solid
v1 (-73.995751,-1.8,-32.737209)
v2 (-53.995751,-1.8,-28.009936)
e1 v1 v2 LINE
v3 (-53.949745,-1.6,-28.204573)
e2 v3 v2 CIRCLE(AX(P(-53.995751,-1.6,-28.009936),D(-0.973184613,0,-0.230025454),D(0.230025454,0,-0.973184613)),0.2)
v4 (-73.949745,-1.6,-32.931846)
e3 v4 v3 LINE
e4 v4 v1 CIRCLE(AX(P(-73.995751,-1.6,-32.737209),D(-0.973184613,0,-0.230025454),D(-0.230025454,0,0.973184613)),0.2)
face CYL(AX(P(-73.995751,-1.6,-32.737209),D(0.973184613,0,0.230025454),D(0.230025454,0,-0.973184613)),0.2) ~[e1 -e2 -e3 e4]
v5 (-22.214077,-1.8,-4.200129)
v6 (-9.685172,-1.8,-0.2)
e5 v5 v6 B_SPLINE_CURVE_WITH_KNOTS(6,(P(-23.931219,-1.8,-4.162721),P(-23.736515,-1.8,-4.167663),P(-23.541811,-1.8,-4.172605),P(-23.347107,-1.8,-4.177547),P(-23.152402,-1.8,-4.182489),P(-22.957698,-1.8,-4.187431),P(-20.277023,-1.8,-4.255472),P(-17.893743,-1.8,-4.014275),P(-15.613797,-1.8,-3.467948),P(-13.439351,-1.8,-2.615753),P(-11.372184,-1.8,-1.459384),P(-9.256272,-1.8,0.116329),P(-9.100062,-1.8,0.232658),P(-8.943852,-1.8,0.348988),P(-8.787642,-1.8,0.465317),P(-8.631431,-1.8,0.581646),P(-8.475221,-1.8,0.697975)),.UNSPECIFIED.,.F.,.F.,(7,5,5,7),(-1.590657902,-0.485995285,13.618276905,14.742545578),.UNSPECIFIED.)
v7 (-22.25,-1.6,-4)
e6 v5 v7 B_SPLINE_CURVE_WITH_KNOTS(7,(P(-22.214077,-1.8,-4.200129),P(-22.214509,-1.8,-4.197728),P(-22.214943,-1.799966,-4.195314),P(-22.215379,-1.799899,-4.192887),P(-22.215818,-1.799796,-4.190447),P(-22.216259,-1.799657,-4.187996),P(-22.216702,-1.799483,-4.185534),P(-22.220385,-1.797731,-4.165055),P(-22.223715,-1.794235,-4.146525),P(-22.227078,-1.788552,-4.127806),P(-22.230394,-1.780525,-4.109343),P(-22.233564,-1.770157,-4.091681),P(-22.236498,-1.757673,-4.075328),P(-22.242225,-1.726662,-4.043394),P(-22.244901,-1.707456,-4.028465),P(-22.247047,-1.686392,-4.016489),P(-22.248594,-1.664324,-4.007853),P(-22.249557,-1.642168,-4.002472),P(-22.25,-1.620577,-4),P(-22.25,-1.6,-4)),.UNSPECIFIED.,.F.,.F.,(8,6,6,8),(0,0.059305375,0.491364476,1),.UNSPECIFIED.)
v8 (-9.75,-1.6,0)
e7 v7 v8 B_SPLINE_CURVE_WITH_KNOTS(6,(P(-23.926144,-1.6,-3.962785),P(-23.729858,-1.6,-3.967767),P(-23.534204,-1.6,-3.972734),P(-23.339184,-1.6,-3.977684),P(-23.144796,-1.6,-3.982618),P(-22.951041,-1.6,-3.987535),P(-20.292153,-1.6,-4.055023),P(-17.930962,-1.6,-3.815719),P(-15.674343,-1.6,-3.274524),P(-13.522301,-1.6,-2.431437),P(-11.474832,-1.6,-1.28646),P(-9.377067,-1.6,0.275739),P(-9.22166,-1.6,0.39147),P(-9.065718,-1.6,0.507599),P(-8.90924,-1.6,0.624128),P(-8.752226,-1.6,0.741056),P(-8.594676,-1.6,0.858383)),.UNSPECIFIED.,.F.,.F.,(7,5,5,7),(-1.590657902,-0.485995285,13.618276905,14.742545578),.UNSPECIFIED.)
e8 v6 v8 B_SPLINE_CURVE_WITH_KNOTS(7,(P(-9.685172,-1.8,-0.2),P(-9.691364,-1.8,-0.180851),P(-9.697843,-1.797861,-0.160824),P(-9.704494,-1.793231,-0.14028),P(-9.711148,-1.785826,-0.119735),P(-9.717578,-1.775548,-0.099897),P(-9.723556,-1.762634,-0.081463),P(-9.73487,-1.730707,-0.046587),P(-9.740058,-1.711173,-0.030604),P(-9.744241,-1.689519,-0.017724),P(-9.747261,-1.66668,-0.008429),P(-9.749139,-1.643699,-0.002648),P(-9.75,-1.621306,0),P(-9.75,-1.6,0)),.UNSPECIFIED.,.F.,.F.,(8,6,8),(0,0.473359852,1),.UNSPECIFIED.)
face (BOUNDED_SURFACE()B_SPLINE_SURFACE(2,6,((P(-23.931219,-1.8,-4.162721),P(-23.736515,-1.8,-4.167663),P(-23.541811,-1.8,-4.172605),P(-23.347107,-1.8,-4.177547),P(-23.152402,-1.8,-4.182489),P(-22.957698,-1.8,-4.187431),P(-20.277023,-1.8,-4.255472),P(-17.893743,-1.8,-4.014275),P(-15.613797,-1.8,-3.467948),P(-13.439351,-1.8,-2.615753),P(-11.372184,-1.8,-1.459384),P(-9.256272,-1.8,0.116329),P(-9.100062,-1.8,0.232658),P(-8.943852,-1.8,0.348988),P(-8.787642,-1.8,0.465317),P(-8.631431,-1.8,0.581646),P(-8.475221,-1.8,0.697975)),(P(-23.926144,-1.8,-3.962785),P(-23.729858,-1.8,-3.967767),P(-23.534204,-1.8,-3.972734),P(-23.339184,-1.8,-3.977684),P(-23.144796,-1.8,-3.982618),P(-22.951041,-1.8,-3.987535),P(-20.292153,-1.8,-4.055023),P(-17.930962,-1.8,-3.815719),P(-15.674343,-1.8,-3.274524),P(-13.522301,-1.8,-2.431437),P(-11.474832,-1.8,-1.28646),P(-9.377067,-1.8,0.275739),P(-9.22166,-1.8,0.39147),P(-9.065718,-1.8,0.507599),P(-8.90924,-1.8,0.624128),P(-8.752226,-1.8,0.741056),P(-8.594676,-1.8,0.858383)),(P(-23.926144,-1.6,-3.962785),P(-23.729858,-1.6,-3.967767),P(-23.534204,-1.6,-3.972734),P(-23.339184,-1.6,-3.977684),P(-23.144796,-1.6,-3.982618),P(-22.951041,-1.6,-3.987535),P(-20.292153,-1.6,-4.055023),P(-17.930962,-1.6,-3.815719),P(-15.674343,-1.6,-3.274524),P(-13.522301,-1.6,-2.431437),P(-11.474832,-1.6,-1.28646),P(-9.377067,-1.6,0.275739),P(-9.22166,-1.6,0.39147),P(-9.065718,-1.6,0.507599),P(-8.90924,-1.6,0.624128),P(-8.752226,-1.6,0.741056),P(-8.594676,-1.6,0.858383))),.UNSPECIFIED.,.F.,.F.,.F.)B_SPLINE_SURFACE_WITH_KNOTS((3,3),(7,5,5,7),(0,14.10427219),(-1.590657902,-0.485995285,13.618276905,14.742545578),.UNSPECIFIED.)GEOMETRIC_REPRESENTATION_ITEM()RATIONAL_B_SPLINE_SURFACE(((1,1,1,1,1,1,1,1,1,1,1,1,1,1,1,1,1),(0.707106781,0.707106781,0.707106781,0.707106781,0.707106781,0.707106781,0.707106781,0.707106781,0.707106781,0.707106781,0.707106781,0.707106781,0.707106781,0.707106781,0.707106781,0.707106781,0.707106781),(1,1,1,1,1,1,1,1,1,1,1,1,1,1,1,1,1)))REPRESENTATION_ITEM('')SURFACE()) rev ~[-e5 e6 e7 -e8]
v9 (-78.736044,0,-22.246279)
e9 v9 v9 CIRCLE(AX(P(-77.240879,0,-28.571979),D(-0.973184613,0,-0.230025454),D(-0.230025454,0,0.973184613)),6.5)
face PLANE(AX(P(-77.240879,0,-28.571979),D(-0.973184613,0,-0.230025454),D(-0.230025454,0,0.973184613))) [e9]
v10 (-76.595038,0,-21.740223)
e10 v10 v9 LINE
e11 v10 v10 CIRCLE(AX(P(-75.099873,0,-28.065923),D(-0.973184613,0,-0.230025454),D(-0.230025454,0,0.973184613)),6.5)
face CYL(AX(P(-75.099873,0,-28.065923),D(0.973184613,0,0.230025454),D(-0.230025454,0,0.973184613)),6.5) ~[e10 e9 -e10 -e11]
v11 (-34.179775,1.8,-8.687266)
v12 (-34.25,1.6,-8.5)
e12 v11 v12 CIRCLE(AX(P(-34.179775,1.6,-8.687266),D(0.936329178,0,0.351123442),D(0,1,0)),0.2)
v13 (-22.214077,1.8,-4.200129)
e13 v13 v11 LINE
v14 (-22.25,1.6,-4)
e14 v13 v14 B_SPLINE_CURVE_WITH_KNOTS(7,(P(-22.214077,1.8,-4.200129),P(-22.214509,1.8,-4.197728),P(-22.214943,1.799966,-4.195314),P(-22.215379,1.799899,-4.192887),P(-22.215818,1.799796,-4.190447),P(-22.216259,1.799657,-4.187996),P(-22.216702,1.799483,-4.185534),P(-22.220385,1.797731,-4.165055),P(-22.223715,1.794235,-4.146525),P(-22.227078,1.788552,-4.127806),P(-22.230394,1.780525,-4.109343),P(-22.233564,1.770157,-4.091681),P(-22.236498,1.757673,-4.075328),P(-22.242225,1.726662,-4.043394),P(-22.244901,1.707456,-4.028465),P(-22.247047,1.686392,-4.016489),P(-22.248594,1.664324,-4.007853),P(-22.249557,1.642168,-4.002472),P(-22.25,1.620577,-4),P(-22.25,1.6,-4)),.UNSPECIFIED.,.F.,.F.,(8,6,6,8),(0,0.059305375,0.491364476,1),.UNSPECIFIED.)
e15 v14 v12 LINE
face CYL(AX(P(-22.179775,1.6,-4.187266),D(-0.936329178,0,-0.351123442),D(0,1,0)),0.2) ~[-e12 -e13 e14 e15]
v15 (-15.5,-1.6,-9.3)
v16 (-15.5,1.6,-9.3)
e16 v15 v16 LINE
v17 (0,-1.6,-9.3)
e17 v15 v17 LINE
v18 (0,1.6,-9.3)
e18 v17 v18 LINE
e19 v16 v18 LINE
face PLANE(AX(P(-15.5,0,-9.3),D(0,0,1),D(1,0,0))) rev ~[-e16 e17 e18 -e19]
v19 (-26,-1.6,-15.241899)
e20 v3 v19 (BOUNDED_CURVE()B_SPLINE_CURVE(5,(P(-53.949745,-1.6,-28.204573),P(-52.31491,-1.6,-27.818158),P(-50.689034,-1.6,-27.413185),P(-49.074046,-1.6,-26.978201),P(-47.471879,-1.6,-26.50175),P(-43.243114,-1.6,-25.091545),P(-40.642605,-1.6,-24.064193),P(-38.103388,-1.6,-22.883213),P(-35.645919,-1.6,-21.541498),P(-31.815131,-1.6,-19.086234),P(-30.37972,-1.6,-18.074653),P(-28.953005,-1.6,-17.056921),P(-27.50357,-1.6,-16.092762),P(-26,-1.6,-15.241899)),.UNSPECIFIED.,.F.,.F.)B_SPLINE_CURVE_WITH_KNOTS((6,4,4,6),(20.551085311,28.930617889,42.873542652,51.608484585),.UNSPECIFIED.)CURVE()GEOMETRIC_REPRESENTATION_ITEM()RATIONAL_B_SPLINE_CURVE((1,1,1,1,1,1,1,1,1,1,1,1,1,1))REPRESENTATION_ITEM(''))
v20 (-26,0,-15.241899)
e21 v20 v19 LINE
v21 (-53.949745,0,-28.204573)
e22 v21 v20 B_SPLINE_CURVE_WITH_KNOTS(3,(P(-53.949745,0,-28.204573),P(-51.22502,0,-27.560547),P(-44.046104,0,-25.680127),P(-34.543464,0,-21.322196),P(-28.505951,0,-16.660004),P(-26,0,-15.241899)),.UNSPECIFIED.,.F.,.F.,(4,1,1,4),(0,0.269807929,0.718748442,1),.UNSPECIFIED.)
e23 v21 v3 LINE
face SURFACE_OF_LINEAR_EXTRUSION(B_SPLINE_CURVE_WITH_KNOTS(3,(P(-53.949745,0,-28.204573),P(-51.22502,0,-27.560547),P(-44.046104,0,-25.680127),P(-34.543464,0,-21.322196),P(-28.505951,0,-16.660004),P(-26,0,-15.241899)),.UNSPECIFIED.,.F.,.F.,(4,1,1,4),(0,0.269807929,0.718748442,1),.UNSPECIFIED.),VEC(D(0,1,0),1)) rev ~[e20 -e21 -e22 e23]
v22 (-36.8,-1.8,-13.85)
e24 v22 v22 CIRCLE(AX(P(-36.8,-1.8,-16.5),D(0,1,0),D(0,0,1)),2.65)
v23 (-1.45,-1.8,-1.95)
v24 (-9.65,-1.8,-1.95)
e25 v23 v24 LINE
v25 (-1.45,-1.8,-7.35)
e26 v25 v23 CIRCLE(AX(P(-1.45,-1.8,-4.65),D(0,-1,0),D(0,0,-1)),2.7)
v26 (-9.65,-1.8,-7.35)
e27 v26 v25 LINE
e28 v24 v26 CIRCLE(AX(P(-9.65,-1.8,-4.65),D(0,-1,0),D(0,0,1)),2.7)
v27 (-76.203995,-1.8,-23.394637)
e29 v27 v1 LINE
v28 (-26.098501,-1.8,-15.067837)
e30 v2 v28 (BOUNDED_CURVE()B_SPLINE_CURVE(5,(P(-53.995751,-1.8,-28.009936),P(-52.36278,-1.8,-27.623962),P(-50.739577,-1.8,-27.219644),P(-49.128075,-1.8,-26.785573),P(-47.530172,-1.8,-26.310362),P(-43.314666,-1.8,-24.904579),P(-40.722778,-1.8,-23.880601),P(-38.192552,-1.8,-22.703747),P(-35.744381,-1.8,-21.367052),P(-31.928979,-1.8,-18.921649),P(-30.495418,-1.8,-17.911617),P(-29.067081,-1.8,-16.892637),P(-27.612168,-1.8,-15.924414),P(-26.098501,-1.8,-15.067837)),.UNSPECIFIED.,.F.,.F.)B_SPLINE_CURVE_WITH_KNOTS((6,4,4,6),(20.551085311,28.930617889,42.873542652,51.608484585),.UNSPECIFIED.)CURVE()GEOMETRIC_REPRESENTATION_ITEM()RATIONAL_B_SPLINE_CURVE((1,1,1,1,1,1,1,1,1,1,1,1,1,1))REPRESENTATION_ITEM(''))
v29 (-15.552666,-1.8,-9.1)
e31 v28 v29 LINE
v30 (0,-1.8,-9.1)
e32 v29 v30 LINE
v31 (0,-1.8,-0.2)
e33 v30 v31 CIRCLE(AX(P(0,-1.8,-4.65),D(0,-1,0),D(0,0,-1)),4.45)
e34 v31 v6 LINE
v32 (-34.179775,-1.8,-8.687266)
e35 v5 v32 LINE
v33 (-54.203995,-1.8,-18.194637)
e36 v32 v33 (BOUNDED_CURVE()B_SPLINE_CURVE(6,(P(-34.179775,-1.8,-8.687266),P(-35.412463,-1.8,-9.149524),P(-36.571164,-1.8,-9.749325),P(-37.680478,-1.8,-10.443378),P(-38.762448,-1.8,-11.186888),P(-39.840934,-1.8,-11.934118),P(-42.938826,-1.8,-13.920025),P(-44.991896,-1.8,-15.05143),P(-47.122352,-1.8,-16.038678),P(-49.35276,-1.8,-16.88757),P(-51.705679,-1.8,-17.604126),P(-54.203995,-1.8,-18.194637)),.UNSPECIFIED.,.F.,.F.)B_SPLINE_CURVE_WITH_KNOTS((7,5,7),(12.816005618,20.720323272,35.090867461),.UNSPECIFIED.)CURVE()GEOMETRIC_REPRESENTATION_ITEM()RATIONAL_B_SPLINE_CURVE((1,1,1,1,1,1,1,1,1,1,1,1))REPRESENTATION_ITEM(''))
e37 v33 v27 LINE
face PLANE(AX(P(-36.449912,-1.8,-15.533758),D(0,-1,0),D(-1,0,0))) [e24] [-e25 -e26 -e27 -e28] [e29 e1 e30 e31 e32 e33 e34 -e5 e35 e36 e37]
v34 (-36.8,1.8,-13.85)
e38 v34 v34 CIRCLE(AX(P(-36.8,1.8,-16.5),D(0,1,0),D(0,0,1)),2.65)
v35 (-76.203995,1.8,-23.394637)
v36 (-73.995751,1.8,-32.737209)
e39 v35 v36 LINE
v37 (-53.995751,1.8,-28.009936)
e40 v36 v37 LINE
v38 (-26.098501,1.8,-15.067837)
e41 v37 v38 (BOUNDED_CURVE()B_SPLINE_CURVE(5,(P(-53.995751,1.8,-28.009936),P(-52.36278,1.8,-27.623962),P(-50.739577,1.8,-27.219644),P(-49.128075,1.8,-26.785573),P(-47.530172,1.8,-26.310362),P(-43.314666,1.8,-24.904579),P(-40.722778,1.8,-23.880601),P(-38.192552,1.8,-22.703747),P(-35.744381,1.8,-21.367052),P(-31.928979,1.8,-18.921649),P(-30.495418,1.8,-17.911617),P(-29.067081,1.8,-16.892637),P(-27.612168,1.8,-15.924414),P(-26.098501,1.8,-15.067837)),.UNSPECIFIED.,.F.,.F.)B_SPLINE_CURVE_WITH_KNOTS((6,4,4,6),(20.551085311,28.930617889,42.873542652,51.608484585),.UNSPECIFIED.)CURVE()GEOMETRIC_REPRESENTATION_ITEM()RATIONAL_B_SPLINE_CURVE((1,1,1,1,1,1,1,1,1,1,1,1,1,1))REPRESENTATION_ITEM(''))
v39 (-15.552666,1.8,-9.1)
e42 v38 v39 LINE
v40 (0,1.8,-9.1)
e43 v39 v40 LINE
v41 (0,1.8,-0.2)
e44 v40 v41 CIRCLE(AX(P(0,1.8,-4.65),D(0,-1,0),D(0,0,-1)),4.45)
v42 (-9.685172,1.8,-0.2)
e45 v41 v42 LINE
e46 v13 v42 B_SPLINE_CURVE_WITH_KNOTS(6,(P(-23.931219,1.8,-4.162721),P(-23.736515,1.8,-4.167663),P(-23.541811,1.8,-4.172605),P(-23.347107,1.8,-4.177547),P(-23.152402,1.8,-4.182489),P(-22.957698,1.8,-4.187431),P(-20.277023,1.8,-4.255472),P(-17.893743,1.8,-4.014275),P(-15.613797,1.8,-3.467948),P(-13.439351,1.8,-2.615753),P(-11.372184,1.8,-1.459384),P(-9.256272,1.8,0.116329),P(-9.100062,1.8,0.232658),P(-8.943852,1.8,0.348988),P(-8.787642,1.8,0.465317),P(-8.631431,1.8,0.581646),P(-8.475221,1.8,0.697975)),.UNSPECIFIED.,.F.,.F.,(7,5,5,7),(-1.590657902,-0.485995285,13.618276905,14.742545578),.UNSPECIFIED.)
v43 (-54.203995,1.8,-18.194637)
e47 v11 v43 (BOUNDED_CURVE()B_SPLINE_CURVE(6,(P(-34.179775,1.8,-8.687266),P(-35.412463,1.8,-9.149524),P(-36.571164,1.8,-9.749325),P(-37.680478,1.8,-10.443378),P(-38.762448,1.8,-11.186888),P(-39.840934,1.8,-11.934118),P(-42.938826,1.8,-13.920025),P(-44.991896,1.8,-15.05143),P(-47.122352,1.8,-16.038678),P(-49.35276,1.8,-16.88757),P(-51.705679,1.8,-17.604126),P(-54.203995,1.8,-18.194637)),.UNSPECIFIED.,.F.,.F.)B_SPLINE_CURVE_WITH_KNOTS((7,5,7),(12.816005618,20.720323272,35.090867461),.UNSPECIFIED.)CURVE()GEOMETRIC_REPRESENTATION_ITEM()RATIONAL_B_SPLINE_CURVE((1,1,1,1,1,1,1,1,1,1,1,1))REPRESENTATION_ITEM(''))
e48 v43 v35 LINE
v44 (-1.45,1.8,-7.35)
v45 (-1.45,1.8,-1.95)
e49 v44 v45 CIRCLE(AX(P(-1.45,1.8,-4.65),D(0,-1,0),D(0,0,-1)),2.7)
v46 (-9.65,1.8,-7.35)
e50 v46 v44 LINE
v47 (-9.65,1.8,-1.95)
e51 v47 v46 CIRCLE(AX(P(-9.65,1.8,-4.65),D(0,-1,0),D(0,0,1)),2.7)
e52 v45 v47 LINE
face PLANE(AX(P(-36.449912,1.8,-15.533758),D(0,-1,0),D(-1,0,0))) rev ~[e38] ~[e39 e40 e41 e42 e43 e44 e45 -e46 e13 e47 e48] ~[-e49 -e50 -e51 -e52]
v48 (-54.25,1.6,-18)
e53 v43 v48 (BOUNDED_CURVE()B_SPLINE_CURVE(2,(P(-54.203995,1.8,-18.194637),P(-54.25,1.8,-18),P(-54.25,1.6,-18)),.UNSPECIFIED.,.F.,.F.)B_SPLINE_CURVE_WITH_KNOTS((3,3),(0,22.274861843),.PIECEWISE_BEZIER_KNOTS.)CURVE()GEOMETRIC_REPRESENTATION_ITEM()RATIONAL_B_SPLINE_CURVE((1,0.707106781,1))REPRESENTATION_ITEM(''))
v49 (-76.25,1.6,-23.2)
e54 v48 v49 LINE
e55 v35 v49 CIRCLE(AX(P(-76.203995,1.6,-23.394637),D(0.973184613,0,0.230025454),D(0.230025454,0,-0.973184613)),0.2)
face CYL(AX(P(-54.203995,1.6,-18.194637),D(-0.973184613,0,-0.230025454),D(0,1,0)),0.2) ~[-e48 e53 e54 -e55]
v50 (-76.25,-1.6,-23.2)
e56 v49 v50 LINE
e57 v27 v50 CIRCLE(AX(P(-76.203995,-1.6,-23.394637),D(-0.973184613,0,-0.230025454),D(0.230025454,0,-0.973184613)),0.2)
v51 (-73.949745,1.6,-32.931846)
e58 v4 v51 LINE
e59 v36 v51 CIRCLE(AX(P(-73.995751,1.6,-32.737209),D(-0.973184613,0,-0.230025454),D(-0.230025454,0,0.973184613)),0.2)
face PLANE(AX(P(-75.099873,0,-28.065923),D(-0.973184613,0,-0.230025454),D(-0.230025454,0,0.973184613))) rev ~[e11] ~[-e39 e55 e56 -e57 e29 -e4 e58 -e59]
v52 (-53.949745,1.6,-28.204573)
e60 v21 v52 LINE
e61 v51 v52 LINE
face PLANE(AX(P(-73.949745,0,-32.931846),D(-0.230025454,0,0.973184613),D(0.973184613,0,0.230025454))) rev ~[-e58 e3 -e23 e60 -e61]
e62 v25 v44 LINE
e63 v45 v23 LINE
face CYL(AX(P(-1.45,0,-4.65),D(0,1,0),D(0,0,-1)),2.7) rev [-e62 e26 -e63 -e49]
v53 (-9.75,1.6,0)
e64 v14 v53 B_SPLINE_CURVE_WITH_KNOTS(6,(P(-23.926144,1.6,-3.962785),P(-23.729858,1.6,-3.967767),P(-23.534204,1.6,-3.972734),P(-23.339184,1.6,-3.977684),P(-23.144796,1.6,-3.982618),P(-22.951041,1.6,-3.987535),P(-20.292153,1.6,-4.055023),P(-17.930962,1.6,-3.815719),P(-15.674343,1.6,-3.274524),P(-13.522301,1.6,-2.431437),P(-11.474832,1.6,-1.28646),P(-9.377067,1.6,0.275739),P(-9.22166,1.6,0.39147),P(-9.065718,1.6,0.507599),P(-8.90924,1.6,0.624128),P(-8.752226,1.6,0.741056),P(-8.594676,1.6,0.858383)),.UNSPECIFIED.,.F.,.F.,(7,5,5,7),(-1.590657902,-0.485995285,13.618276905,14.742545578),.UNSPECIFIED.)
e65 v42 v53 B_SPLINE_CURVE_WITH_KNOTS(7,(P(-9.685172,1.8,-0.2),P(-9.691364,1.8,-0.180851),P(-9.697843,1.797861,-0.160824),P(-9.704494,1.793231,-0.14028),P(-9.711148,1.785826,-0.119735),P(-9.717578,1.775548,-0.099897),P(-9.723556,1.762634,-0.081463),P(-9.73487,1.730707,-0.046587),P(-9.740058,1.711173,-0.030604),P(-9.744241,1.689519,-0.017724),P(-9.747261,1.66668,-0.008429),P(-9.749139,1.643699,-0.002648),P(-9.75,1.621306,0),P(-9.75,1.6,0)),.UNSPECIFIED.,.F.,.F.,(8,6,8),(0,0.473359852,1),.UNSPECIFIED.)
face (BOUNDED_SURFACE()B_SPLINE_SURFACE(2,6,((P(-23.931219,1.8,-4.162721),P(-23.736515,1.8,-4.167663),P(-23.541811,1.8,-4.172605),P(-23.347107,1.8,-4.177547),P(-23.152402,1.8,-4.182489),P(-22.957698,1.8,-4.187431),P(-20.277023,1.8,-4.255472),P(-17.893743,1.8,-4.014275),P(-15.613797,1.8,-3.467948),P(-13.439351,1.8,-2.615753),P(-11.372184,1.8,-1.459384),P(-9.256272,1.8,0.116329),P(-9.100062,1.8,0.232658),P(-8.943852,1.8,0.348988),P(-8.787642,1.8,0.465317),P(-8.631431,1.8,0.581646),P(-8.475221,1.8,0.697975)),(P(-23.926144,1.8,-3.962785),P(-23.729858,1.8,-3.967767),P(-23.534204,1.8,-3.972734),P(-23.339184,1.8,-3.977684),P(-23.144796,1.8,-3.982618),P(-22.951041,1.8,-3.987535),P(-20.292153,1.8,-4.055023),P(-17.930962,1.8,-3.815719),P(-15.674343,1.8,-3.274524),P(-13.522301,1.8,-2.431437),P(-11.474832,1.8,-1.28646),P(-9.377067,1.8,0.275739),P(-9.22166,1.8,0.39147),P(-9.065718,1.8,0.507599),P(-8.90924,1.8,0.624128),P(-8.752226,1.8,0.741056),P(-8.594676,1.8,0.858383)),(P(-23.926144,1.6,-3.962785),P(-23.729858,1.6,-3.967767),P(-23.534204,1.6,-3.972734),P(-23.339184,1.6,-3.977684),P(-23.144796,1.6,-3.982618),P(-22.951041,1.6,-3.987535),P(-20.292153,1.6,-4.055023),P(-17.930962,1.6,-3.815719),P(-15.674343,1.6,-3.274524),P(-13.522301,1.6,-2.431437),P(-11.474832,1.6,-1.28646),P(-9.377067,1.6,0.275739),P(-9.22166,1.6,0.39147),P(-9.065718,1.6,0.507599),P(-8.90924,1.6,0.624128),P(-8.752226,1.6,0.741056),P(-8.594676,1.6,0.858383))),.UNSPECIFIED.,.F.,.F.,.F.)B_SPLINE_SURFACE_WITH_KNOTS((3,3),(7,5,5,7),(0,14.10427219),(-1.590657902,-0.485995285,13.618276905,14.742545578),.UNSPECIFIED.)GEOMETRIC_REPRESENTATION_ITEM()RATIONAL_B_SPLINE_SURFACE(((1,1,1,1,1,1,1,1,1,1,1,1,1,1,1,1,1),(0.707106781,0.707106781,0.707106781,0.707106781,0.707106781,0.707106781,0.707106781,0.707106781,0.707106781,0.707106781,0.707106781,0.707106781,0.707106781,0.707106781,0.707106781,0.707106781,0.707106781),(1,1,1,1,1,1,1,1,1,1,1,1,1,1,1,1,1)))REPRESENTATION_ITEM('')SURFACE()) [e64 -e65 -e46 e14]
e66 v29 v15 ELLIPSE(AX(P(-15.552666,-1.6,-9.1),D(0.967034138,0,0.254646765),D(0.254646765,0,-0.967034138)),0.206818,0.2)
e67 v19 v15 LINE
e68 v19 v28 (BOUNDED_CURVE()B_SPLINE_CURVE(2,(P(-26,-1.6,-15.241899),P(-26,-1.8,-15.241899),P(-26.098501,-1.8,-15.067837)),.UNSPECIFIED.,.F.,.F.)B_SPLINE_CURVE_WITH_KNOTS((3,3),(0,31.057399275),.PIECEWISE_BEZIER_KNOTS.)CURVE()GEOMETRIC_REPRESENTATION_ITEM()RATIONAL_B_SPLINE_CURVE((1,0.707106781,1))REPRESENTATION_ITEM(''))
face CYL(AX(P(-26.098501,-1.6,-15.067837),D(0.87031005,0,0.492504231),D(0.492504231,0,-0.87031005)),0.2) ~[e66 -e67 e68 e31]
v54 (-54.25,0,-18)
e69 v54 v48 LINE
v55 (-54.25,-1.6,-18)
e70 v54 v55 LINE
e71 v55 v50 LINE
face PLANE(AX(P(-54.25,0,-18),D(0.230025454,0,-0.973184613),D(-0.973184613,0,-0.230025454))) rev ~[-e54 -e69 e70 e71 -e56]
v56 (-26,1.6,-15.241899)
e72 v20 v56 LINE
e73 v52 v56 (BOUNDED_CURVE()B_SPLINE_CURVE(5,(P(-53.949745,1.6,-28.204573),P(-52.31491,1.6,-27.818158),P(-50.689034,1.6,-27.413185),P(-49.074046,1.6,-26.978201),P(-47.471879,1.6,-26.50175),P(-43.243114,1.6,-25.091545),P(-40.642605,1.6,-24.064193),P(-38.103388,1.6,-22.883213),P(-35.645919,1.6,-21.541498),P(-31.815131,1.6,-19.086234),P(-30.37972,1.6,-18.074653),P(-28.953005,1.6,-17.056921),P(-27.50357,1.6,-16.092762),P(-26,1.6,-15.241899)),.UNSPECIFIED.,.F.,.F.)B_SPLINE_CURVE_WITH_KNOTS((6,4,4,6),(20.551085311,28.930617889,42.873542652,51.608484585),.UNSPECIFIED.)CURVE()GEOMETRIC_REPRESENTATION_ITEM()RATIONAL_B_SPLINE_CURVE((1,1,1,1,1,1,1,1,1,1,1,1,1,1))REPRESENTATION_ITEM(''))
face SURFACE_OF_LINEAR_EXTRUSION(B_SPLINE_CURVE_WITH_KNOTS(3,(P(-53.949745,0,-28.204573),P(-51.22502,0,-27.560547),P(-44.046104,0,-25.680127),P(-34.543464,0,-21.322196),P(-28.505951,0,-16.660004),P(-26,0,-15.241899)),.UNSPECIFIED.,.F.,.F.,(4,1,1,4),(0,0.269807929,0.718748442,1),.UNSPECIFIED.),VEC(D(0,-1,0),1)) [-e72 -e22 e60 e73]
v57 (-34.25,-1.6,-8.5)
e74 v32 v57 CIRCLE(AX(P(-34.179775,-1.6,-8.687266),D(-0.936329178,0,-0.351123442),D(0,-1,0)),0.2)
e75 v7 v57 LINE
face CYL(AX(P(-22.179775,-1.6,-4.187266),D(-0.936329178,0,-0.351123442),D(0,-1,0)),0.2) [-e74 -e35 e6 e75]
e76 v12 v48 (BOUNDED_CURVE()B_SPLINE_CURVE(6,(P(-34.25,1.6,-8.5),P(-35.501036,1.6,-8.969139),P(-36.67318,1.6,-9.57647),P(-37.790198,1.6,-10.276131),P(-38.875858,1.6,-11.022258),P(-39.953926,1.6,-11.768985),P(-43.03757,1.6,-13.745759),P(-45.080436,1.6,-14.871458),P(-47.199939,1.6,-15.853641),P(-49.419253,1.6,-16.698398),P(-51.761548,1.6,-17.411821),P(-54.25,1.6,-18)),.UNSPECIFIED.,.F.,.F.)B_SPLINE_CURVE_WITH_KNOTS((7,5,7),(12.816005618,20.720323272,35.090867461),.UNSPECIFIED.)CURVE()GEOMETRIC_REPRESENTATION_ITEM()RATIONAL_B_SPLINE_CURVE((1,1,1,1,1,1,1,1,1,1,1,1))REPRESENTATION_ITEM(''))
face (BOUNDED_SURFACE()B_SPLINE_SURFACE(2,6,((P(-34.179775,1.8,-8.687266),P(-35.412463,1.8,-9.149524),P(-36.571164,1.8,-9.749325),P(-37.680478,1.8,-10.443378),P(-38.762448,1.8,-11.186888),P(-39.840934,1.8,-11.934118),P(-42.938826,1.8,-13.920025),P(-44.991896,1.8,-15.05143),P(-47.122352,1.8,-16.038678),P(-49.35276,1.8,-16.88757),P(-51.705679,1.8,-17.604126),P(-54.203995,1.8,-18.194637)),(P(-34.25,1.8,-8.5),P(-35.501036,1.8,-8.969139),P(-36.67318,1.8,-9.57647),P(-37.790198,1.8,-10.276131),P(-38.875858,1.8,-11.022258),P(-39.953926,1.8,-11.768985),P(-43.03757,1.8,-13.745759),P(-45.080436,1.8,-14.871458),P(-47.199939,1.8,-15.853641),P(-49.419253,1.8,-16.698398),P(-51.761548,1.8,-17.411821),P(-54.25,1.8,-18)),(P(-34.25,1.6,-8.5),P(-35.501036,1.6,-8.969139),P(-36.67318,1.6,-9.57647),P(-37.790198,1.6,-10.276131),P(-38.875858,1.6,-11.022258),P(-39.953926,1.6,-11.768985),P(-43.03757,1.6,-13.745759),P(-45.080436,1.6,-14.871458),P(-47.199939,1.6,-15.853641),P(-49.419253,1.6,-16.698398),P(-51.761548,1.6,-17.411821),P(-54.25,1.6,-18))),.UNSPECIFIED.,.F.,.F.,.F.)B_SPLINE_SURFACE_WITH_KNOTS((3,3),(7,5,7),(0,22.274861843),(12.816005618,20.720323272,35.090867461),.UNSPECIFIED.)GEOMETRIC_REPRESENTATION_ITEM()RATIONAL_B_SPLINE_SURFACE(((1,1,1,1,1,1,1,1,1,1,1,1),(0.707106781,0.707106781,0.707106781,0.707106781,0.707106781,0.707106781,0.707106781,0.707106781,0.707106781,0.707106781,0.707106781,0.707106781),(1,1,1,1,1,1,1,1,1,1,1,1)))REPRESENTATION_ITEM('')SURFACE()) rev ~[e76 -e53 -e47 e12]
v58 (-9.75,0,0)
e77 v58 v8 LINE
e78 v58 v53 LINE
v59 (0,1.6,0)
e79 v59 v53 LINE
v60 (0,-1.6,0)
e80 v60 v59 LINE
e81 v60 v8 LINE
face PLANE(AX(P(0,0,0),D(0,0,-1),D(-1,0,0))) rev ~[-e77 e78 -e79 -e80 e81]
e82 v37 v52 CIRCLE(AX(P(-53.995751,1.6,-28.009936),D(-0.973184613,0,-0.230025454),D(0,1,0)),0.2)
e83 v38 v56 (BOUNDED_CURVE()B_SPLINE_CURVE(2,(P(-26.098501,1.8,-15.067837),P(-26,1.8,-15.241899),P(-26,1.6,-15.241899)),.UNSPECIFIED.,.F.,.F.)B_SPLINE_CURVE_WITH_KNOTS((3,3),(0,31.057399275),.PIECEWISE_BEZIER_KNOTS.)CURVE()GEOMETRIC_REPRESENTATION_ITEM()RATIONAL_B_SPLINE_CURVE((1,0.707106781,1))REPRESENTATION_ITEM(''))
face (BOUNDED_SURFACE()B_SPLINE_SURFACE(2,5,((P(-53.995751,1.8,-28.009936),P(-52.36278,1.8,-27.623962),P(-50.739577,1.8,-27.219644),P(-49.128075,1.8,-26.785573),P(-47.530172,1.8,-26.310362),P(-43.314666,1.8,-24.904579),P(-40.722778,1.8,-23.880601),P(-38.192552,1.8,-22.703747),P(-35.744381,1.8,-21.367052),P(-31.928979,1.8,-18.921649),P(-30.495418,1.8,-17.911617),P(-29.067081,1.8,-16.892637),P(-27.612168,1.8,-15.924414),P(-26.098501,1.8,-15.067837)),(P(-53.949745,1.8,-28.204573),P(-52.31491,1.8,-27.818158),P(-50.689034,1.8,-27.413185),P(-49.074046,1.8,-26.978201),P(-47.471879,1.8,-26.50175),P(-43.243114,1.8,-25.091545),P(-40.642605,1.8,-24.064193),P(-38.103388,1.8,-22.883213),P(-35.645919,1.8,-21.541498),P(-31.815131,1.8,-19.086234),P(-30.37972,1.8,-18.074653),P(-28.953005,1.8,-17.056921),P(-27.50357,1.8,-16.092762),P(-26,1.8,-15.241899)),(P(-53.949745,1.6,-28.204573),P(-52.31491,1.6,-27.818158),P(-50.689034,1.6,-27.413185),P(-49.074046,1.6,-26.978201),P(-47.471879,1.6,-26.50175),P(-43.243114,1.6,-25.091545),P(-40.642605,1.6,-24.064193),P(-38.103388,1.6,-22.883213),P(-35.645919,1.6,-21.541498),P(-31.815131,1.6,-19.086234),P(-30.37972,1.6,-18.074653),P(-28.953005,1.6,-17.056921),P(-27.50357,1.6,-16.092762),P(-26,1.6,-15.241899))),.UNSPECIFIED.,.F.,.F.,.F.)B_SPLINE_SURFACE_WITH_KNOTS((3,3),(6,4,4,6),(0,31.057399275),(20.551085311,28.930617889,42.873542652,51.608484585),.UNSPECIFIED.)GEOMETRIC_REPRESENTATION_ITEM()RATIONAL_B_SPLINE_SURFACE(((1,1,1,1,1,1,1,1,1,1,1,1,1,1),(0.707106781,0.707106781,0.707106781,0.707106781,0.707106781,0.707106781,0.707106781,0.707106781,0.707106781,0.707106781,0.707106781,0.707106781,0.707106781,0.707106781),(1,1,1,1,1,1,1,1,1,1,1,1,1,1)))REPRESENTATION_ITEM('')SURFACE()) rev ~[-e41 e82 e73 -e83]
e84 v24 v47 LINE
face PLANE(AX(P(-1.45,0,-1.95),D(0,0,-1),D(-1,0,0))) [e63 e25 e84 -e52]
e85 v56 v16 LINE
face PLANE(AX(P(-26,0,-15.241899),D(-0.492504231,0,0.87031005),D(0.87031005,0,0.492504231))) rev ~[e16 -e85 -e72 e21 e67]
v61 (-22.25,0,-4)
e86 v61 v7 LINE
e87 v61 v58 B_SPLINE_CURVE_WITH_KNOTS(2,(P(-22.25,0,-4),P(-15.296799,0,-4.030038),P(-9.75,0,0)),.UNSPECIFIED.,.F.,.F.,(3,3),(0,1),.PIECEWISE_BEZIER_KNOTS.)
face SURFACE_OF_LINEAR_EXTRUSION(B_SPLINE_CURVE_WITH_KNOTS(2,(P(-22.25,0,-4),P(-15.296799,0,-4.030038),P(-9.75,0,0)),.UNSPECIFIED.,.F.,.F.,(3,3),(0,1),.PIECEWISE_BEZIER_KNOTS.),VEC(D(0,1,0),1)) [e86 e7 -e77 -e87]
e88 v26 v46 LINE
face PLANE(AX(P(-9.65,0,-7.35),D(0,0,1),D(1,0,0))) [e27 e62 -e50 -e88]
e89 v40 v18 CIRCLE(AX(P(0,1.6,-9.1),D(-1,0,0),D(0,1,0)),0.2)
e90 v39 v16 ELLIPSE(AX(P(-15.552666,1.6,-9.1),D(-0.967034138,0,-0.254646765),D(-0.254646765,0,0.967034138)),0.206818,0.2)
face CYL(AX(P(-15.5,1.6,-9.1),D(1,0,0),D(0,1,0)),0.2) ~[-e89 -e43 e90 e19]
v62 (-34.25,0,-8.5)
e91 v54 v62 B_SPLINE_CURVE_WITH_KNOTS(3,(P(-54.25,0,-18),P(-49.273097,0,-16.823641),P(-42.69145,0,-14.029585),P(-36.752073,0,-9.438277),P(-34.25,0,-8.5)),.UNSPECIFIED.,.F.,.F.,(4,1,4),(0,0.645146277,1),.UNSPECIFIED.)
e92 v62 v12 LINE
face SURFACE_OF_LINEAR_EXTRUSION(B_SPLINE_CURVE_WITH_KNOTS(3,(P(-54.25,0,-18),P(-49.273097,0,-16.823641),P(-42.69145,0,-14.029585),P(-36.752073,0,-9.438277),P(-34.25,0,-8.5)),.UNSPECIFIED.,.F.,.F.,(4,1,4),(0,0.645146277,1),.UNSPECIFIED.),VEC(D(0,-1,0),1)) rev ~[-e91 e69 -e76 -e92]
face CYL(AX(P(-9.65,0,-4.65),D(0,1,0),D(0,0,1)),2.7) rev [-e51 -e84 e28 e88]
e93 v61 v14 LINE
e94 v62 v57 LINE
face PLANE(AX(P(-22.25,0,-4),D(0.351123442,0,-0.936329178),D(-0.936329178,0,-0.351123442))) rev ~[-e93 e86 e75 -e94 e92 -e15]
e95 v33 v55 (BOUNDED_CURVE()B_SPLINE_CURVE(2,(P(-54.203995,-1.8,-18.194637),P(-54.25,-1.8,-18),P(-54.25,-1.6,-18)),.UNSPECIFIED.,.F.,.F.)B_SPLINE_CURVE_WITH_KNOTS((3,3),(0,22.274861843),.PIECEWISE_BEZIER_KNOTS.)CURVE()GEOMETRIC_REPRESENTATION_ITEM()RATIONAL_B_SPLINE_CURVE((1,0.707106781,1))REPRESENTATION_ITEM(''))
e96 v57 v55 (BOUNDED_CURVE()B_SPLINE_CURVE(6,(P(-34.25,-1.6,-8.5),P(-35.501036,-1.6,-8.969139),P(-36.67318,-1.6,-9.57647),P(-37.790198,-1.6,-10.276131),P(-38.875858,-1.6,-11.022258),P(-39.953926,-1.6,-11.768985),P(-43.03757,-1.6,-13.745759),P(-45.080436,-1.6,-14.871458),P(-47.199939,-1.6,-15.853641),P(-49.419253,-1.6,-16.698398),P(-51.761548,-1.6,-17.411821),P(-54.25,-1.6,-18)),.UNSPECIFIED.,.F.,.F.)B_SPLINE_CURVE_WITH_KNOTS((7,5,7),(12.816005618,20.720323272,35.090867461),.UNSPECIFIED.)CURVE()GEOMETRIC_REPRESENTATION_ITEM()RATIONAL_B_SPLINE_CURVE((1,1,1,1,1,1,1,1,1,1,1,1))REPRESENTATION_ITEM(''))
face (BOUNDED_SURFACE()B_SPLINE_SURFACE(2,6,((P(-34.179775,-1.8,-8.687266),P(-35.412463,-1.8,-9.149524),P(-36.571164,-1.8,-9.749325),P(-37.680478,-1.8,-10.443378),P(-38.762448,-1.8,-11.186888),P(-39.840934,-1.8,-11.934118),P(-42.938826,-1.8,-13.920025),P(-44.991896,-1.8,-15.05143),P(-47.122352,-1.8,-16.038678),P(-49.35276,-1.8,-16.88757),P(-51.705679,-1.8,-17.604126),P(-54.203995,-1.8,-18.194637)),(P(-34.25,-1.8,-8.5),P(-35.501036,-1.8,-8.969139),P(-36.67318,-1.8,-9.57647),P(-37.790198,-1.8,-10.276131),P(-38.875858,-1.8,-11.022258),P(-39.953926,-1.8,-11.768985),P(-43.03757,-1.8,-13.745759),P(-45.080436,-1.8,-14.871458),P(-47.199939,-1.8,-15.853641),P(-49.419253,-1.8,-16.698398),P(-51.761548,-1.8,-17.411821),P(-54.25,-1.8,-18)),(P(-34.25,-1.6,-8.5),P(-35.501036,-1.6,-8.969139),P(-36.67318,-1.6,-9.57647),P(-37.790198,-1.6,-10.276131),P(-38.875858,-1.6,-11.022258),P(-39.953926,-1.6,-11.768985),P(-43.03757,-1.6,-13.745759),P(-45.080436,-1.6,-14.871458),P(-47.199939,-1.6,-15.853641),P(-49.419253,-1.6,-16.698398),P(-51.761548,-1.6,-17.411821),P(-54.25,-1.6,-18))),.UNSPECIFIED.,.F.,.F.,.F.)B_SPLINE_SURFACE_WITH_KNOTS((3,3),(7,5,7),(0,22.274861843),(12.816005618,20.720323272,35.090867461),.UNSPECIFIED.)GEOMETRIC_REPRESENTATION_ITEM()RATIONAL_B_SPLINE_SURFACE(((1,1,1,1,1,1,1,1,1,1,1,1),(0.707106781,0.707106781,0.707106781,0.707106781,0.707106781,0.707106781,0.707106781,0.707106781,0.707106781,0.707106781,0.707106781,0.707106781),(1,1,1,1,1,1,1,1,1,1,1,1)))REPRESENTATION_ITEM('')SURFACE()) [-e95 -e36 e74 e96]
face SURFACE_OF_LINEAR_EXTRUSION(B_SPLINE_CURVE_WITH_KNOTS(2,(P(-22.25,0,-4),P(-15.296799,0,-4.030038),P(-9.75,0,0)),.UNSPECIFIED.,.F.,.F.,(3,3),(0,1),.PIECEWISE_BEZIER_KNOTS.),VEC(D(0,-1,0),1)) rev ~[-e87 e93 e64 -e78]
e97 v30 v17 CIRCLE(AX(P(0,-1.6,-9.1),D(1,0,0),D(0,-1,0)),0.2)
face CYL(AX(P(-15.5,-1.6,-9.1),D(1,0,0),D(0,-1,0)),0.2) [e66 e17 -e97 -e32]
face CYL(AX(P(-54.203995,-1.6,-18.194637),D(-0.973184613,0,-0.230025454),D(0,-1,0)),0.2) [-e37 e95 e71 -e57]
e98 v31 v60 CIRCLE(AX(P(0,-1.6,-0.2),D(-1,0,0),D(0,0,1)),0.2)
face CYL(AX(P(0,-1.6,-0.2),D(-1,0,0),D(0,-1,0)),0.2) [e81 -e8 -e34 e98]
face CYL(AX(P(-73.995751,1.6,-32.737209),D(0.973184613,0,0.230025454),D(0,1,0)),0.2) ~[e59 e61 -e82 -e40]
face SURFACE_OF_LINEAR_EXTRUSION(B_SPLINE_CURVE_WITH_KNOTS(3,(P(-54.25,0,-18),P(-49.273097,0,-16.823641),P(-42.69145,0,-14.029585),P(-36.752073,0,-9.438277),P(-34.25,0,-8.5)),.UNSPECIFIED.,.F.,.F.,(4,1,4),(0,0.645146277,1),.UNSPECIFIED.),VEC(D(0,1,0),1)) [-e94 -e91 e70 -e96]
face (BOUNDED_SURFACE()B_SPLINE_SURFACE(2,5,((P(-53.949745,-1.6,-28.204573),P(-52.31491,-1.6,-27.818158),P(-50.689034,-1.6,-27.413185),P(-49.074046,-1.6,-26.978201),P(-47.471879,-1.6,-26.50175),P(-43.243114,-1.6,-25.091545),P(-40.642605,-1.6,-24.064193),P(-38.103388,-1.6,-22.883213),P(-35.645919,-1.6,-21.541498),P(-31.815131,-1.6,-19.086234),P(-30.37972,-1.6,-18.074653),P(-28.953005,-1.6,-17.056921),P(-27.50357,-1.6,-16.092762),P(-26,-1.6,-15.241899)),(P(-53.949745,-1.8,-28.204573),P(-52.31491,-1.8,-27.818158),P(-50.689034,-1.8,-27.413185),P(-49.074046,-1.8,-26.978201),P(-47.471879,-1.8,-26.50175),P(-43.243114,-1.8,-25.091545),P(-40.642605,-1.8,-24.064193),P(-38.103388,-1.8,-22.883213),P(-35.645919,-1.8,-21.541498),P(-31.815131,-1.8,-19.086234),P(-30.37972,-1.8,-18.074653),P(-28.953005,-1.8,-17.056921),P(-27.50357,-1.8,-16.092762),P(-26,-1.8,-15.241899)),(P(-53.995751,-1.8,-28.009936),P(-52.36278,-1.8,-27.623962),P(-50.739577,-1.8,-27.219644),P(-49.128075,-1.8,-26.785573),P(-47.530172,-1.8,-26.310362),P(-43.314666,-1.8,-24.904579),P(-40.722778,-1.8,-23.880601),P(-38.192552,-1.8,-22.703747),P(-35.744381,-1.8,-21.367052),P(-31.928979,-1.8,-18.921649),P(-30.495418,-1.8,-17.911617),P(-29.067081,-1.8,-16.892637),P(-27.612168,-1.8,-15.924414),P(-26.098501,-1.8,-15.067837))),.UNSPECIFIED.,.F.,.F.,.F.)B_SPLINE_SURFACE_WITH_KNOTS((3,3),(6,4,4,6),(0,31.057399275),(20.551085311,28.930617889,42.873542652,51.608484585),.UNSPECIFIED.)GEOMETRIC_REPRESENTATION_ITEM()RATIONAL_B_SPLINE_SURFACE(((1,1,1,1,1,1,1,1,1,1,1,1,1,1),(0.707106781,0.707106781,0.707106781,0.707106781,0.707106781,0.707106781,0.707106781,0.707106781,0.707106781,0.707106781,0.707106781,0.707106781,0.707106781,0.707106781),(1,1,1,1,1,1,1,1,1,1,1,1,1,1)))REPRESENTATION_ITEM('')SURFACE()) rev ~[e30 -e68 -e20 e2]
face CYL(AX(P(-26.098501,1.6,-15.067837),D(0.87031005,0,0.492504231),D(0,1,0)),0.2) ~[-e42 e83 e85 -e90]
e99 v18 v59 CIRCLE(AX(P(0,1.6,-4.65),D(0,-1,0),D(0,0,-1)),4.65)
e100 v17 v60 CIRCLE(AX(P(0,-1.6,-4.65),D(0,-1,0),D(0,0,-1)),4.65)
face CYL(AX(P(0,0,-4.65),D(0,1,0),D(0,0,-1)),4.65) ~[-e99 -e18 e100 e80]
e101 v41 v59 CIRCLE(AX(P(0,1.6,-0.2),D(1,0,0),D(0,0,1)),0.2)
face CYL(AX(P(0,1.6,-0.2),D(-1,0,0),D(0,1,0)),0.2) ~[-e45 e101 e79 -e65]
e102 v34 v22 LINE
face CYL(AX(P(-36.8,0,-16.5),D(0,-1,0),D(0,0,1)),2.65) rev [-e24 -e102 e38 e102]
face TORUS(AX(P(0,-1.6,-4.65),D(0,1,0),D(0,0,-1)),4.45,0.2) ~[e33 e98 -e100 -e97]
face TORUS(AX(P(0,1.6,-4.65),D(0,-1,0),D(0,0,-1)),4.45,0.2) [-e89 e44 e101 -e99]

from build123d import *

# Parameters (mm, degrees)
SKETCH_1_R      = 2.65
EXTRUDE_1_DEPTH = 1.8
SKETCH_4_R      = 6.5
EXTRUDE_2_DEPTH = 2.2
FILLET_1_R      = 0.2


with BuildPart() as part:
    # Эскиз1 → Бобышка-Вытянуть1 (new, symmetric)
    with BuildSketch(Plane(origin=(0, 0, 0), x_dir=(1, 0, 0), z_dir=(0, 1, 0))):
        with BuildLine():
            Line((0, 0), (-9.75, 0))
            add(Edge.make_bspline(
                [(-22.25, 4), (-15.296798857, 4.030038289), (-9.75, 0)],
                knots=[0, 0, 0, 1, 1, 1], degree=2))
            Line((-22.25, 4), (-34.25, 8.5))
            add(Edge.make_bspline(
                [(-54.25, 18), (-49.273096964, 16.823641101), (-42.69144993, 14.029585327), (-36.752072816, 9.438277306), (-34.25, 8.5)],
                knots=[0, 0, 0, 0, 0.645146277, 1, 1, 1, 1], degree=3))
            Line((-54.25, 18), (-76.25, 23.2))
            Line((-76.25, 23.2), (-73.949745461, 32.931846128))
            Line((-73.949745461, 32.931846128), (-53.949745461, 28.2045734))
            add(Edge.make_bspline(
                [(-53.949745461, 28.2045734), (-51.225020143, 27.560547416), (-44.046103857, 25.680126804), (-34.543464428, 21.322196006), (-28.505950684, 16.660004334), (-26, 15.241899011)],
                knots=[0, 0, 0, 0, 0.269807929, 0.718748442, 1, 1, 1, 1], degree=3))
            Line((-26, 15.241899011), (-15.5, 9.3))
            Line((-15.5, 9.3), (0, 9.3))
            ThreePointArc((0, 9.3), (4.65, 4.65), (0, 0))
        make_face()
        with Locations(Location((-36.8, 16.5, 0), (0, 0, 270))):
            Circle(SKETCH_1_R, mode=Mode.SUBTRACT)
        with BuildLine():
            Line((-1.45, 1.95), (-9.65, 1.95))
            ThreePointArc((-9.65, 1.95), (-12.35, 4.65), (-9.65, 7.35))
            Line((-9.65, 7.35), (-1.45, 7.35))
            ThreePointArc((-1.45, 7.35), (1.25, 4.65), (-1.45, 1.95))
        make_face(mode=Mode.SUBTRACT)
    extrude(amount=EXTRUDE_1_DEPTH, both=True)

    # Эскиз4 → Бобышка-Вытянуть2 (add)
    with BuildSketch(Plane(origin=(-77.408969944, 0, -18.296665623), x_dir=(-0.2300254539289697, 0, 0.9731846127764102), z_dir=(-0.9731846127764103, 0, -0.23002545392896973))):
        with Locations((-10.038442154, 0)):
            Circle(SKETCH_4_R)
    extrude(amount=EXTRUDE_2_DEPTH)

    # Скругление1
    fillet_1_edges = [part.edges().sort_by_distance(p)[0] for p in [
        (-20.75, 1.8, -12.270949505),
        (-4.875, -1.8, 0),
        (-15.672091437, -1.8, -3.022584392),
        (-28.25, -1.8, -6.25),
        (-43.846066751, -1.8, -14.115535877),
        (-65.25, -1.8, -20.6),
        (-63.949745461, -1.8, -30.568209764),
        (-39.242509002, -1.8, -23.316914453),
        (-39.242509002, 1.8, -23.316914453),
        (-20.75, -1.8, -12.270949505),
        (-7.75, -1.8, -9.3),
        (4.65, -1.8, -4.65),
        (-63.949745461, 1.8, -30.568209764),
        (-65.25, 1.8, -20.6),
        (-43.846066751, 1.8, -14.115535877),
        (-28.25, 1.8, -6.25),
        (-15.672091437, 1.8, -3.022584392),
        (-4.875, 1.8, 0),
        (4.65, 1.8, -4.65),
        (-7.75, 1.8, -9.3),
    ]]
    fillet(fillet_1_edges, radius=FILLET_1_R)


solid = part.part
